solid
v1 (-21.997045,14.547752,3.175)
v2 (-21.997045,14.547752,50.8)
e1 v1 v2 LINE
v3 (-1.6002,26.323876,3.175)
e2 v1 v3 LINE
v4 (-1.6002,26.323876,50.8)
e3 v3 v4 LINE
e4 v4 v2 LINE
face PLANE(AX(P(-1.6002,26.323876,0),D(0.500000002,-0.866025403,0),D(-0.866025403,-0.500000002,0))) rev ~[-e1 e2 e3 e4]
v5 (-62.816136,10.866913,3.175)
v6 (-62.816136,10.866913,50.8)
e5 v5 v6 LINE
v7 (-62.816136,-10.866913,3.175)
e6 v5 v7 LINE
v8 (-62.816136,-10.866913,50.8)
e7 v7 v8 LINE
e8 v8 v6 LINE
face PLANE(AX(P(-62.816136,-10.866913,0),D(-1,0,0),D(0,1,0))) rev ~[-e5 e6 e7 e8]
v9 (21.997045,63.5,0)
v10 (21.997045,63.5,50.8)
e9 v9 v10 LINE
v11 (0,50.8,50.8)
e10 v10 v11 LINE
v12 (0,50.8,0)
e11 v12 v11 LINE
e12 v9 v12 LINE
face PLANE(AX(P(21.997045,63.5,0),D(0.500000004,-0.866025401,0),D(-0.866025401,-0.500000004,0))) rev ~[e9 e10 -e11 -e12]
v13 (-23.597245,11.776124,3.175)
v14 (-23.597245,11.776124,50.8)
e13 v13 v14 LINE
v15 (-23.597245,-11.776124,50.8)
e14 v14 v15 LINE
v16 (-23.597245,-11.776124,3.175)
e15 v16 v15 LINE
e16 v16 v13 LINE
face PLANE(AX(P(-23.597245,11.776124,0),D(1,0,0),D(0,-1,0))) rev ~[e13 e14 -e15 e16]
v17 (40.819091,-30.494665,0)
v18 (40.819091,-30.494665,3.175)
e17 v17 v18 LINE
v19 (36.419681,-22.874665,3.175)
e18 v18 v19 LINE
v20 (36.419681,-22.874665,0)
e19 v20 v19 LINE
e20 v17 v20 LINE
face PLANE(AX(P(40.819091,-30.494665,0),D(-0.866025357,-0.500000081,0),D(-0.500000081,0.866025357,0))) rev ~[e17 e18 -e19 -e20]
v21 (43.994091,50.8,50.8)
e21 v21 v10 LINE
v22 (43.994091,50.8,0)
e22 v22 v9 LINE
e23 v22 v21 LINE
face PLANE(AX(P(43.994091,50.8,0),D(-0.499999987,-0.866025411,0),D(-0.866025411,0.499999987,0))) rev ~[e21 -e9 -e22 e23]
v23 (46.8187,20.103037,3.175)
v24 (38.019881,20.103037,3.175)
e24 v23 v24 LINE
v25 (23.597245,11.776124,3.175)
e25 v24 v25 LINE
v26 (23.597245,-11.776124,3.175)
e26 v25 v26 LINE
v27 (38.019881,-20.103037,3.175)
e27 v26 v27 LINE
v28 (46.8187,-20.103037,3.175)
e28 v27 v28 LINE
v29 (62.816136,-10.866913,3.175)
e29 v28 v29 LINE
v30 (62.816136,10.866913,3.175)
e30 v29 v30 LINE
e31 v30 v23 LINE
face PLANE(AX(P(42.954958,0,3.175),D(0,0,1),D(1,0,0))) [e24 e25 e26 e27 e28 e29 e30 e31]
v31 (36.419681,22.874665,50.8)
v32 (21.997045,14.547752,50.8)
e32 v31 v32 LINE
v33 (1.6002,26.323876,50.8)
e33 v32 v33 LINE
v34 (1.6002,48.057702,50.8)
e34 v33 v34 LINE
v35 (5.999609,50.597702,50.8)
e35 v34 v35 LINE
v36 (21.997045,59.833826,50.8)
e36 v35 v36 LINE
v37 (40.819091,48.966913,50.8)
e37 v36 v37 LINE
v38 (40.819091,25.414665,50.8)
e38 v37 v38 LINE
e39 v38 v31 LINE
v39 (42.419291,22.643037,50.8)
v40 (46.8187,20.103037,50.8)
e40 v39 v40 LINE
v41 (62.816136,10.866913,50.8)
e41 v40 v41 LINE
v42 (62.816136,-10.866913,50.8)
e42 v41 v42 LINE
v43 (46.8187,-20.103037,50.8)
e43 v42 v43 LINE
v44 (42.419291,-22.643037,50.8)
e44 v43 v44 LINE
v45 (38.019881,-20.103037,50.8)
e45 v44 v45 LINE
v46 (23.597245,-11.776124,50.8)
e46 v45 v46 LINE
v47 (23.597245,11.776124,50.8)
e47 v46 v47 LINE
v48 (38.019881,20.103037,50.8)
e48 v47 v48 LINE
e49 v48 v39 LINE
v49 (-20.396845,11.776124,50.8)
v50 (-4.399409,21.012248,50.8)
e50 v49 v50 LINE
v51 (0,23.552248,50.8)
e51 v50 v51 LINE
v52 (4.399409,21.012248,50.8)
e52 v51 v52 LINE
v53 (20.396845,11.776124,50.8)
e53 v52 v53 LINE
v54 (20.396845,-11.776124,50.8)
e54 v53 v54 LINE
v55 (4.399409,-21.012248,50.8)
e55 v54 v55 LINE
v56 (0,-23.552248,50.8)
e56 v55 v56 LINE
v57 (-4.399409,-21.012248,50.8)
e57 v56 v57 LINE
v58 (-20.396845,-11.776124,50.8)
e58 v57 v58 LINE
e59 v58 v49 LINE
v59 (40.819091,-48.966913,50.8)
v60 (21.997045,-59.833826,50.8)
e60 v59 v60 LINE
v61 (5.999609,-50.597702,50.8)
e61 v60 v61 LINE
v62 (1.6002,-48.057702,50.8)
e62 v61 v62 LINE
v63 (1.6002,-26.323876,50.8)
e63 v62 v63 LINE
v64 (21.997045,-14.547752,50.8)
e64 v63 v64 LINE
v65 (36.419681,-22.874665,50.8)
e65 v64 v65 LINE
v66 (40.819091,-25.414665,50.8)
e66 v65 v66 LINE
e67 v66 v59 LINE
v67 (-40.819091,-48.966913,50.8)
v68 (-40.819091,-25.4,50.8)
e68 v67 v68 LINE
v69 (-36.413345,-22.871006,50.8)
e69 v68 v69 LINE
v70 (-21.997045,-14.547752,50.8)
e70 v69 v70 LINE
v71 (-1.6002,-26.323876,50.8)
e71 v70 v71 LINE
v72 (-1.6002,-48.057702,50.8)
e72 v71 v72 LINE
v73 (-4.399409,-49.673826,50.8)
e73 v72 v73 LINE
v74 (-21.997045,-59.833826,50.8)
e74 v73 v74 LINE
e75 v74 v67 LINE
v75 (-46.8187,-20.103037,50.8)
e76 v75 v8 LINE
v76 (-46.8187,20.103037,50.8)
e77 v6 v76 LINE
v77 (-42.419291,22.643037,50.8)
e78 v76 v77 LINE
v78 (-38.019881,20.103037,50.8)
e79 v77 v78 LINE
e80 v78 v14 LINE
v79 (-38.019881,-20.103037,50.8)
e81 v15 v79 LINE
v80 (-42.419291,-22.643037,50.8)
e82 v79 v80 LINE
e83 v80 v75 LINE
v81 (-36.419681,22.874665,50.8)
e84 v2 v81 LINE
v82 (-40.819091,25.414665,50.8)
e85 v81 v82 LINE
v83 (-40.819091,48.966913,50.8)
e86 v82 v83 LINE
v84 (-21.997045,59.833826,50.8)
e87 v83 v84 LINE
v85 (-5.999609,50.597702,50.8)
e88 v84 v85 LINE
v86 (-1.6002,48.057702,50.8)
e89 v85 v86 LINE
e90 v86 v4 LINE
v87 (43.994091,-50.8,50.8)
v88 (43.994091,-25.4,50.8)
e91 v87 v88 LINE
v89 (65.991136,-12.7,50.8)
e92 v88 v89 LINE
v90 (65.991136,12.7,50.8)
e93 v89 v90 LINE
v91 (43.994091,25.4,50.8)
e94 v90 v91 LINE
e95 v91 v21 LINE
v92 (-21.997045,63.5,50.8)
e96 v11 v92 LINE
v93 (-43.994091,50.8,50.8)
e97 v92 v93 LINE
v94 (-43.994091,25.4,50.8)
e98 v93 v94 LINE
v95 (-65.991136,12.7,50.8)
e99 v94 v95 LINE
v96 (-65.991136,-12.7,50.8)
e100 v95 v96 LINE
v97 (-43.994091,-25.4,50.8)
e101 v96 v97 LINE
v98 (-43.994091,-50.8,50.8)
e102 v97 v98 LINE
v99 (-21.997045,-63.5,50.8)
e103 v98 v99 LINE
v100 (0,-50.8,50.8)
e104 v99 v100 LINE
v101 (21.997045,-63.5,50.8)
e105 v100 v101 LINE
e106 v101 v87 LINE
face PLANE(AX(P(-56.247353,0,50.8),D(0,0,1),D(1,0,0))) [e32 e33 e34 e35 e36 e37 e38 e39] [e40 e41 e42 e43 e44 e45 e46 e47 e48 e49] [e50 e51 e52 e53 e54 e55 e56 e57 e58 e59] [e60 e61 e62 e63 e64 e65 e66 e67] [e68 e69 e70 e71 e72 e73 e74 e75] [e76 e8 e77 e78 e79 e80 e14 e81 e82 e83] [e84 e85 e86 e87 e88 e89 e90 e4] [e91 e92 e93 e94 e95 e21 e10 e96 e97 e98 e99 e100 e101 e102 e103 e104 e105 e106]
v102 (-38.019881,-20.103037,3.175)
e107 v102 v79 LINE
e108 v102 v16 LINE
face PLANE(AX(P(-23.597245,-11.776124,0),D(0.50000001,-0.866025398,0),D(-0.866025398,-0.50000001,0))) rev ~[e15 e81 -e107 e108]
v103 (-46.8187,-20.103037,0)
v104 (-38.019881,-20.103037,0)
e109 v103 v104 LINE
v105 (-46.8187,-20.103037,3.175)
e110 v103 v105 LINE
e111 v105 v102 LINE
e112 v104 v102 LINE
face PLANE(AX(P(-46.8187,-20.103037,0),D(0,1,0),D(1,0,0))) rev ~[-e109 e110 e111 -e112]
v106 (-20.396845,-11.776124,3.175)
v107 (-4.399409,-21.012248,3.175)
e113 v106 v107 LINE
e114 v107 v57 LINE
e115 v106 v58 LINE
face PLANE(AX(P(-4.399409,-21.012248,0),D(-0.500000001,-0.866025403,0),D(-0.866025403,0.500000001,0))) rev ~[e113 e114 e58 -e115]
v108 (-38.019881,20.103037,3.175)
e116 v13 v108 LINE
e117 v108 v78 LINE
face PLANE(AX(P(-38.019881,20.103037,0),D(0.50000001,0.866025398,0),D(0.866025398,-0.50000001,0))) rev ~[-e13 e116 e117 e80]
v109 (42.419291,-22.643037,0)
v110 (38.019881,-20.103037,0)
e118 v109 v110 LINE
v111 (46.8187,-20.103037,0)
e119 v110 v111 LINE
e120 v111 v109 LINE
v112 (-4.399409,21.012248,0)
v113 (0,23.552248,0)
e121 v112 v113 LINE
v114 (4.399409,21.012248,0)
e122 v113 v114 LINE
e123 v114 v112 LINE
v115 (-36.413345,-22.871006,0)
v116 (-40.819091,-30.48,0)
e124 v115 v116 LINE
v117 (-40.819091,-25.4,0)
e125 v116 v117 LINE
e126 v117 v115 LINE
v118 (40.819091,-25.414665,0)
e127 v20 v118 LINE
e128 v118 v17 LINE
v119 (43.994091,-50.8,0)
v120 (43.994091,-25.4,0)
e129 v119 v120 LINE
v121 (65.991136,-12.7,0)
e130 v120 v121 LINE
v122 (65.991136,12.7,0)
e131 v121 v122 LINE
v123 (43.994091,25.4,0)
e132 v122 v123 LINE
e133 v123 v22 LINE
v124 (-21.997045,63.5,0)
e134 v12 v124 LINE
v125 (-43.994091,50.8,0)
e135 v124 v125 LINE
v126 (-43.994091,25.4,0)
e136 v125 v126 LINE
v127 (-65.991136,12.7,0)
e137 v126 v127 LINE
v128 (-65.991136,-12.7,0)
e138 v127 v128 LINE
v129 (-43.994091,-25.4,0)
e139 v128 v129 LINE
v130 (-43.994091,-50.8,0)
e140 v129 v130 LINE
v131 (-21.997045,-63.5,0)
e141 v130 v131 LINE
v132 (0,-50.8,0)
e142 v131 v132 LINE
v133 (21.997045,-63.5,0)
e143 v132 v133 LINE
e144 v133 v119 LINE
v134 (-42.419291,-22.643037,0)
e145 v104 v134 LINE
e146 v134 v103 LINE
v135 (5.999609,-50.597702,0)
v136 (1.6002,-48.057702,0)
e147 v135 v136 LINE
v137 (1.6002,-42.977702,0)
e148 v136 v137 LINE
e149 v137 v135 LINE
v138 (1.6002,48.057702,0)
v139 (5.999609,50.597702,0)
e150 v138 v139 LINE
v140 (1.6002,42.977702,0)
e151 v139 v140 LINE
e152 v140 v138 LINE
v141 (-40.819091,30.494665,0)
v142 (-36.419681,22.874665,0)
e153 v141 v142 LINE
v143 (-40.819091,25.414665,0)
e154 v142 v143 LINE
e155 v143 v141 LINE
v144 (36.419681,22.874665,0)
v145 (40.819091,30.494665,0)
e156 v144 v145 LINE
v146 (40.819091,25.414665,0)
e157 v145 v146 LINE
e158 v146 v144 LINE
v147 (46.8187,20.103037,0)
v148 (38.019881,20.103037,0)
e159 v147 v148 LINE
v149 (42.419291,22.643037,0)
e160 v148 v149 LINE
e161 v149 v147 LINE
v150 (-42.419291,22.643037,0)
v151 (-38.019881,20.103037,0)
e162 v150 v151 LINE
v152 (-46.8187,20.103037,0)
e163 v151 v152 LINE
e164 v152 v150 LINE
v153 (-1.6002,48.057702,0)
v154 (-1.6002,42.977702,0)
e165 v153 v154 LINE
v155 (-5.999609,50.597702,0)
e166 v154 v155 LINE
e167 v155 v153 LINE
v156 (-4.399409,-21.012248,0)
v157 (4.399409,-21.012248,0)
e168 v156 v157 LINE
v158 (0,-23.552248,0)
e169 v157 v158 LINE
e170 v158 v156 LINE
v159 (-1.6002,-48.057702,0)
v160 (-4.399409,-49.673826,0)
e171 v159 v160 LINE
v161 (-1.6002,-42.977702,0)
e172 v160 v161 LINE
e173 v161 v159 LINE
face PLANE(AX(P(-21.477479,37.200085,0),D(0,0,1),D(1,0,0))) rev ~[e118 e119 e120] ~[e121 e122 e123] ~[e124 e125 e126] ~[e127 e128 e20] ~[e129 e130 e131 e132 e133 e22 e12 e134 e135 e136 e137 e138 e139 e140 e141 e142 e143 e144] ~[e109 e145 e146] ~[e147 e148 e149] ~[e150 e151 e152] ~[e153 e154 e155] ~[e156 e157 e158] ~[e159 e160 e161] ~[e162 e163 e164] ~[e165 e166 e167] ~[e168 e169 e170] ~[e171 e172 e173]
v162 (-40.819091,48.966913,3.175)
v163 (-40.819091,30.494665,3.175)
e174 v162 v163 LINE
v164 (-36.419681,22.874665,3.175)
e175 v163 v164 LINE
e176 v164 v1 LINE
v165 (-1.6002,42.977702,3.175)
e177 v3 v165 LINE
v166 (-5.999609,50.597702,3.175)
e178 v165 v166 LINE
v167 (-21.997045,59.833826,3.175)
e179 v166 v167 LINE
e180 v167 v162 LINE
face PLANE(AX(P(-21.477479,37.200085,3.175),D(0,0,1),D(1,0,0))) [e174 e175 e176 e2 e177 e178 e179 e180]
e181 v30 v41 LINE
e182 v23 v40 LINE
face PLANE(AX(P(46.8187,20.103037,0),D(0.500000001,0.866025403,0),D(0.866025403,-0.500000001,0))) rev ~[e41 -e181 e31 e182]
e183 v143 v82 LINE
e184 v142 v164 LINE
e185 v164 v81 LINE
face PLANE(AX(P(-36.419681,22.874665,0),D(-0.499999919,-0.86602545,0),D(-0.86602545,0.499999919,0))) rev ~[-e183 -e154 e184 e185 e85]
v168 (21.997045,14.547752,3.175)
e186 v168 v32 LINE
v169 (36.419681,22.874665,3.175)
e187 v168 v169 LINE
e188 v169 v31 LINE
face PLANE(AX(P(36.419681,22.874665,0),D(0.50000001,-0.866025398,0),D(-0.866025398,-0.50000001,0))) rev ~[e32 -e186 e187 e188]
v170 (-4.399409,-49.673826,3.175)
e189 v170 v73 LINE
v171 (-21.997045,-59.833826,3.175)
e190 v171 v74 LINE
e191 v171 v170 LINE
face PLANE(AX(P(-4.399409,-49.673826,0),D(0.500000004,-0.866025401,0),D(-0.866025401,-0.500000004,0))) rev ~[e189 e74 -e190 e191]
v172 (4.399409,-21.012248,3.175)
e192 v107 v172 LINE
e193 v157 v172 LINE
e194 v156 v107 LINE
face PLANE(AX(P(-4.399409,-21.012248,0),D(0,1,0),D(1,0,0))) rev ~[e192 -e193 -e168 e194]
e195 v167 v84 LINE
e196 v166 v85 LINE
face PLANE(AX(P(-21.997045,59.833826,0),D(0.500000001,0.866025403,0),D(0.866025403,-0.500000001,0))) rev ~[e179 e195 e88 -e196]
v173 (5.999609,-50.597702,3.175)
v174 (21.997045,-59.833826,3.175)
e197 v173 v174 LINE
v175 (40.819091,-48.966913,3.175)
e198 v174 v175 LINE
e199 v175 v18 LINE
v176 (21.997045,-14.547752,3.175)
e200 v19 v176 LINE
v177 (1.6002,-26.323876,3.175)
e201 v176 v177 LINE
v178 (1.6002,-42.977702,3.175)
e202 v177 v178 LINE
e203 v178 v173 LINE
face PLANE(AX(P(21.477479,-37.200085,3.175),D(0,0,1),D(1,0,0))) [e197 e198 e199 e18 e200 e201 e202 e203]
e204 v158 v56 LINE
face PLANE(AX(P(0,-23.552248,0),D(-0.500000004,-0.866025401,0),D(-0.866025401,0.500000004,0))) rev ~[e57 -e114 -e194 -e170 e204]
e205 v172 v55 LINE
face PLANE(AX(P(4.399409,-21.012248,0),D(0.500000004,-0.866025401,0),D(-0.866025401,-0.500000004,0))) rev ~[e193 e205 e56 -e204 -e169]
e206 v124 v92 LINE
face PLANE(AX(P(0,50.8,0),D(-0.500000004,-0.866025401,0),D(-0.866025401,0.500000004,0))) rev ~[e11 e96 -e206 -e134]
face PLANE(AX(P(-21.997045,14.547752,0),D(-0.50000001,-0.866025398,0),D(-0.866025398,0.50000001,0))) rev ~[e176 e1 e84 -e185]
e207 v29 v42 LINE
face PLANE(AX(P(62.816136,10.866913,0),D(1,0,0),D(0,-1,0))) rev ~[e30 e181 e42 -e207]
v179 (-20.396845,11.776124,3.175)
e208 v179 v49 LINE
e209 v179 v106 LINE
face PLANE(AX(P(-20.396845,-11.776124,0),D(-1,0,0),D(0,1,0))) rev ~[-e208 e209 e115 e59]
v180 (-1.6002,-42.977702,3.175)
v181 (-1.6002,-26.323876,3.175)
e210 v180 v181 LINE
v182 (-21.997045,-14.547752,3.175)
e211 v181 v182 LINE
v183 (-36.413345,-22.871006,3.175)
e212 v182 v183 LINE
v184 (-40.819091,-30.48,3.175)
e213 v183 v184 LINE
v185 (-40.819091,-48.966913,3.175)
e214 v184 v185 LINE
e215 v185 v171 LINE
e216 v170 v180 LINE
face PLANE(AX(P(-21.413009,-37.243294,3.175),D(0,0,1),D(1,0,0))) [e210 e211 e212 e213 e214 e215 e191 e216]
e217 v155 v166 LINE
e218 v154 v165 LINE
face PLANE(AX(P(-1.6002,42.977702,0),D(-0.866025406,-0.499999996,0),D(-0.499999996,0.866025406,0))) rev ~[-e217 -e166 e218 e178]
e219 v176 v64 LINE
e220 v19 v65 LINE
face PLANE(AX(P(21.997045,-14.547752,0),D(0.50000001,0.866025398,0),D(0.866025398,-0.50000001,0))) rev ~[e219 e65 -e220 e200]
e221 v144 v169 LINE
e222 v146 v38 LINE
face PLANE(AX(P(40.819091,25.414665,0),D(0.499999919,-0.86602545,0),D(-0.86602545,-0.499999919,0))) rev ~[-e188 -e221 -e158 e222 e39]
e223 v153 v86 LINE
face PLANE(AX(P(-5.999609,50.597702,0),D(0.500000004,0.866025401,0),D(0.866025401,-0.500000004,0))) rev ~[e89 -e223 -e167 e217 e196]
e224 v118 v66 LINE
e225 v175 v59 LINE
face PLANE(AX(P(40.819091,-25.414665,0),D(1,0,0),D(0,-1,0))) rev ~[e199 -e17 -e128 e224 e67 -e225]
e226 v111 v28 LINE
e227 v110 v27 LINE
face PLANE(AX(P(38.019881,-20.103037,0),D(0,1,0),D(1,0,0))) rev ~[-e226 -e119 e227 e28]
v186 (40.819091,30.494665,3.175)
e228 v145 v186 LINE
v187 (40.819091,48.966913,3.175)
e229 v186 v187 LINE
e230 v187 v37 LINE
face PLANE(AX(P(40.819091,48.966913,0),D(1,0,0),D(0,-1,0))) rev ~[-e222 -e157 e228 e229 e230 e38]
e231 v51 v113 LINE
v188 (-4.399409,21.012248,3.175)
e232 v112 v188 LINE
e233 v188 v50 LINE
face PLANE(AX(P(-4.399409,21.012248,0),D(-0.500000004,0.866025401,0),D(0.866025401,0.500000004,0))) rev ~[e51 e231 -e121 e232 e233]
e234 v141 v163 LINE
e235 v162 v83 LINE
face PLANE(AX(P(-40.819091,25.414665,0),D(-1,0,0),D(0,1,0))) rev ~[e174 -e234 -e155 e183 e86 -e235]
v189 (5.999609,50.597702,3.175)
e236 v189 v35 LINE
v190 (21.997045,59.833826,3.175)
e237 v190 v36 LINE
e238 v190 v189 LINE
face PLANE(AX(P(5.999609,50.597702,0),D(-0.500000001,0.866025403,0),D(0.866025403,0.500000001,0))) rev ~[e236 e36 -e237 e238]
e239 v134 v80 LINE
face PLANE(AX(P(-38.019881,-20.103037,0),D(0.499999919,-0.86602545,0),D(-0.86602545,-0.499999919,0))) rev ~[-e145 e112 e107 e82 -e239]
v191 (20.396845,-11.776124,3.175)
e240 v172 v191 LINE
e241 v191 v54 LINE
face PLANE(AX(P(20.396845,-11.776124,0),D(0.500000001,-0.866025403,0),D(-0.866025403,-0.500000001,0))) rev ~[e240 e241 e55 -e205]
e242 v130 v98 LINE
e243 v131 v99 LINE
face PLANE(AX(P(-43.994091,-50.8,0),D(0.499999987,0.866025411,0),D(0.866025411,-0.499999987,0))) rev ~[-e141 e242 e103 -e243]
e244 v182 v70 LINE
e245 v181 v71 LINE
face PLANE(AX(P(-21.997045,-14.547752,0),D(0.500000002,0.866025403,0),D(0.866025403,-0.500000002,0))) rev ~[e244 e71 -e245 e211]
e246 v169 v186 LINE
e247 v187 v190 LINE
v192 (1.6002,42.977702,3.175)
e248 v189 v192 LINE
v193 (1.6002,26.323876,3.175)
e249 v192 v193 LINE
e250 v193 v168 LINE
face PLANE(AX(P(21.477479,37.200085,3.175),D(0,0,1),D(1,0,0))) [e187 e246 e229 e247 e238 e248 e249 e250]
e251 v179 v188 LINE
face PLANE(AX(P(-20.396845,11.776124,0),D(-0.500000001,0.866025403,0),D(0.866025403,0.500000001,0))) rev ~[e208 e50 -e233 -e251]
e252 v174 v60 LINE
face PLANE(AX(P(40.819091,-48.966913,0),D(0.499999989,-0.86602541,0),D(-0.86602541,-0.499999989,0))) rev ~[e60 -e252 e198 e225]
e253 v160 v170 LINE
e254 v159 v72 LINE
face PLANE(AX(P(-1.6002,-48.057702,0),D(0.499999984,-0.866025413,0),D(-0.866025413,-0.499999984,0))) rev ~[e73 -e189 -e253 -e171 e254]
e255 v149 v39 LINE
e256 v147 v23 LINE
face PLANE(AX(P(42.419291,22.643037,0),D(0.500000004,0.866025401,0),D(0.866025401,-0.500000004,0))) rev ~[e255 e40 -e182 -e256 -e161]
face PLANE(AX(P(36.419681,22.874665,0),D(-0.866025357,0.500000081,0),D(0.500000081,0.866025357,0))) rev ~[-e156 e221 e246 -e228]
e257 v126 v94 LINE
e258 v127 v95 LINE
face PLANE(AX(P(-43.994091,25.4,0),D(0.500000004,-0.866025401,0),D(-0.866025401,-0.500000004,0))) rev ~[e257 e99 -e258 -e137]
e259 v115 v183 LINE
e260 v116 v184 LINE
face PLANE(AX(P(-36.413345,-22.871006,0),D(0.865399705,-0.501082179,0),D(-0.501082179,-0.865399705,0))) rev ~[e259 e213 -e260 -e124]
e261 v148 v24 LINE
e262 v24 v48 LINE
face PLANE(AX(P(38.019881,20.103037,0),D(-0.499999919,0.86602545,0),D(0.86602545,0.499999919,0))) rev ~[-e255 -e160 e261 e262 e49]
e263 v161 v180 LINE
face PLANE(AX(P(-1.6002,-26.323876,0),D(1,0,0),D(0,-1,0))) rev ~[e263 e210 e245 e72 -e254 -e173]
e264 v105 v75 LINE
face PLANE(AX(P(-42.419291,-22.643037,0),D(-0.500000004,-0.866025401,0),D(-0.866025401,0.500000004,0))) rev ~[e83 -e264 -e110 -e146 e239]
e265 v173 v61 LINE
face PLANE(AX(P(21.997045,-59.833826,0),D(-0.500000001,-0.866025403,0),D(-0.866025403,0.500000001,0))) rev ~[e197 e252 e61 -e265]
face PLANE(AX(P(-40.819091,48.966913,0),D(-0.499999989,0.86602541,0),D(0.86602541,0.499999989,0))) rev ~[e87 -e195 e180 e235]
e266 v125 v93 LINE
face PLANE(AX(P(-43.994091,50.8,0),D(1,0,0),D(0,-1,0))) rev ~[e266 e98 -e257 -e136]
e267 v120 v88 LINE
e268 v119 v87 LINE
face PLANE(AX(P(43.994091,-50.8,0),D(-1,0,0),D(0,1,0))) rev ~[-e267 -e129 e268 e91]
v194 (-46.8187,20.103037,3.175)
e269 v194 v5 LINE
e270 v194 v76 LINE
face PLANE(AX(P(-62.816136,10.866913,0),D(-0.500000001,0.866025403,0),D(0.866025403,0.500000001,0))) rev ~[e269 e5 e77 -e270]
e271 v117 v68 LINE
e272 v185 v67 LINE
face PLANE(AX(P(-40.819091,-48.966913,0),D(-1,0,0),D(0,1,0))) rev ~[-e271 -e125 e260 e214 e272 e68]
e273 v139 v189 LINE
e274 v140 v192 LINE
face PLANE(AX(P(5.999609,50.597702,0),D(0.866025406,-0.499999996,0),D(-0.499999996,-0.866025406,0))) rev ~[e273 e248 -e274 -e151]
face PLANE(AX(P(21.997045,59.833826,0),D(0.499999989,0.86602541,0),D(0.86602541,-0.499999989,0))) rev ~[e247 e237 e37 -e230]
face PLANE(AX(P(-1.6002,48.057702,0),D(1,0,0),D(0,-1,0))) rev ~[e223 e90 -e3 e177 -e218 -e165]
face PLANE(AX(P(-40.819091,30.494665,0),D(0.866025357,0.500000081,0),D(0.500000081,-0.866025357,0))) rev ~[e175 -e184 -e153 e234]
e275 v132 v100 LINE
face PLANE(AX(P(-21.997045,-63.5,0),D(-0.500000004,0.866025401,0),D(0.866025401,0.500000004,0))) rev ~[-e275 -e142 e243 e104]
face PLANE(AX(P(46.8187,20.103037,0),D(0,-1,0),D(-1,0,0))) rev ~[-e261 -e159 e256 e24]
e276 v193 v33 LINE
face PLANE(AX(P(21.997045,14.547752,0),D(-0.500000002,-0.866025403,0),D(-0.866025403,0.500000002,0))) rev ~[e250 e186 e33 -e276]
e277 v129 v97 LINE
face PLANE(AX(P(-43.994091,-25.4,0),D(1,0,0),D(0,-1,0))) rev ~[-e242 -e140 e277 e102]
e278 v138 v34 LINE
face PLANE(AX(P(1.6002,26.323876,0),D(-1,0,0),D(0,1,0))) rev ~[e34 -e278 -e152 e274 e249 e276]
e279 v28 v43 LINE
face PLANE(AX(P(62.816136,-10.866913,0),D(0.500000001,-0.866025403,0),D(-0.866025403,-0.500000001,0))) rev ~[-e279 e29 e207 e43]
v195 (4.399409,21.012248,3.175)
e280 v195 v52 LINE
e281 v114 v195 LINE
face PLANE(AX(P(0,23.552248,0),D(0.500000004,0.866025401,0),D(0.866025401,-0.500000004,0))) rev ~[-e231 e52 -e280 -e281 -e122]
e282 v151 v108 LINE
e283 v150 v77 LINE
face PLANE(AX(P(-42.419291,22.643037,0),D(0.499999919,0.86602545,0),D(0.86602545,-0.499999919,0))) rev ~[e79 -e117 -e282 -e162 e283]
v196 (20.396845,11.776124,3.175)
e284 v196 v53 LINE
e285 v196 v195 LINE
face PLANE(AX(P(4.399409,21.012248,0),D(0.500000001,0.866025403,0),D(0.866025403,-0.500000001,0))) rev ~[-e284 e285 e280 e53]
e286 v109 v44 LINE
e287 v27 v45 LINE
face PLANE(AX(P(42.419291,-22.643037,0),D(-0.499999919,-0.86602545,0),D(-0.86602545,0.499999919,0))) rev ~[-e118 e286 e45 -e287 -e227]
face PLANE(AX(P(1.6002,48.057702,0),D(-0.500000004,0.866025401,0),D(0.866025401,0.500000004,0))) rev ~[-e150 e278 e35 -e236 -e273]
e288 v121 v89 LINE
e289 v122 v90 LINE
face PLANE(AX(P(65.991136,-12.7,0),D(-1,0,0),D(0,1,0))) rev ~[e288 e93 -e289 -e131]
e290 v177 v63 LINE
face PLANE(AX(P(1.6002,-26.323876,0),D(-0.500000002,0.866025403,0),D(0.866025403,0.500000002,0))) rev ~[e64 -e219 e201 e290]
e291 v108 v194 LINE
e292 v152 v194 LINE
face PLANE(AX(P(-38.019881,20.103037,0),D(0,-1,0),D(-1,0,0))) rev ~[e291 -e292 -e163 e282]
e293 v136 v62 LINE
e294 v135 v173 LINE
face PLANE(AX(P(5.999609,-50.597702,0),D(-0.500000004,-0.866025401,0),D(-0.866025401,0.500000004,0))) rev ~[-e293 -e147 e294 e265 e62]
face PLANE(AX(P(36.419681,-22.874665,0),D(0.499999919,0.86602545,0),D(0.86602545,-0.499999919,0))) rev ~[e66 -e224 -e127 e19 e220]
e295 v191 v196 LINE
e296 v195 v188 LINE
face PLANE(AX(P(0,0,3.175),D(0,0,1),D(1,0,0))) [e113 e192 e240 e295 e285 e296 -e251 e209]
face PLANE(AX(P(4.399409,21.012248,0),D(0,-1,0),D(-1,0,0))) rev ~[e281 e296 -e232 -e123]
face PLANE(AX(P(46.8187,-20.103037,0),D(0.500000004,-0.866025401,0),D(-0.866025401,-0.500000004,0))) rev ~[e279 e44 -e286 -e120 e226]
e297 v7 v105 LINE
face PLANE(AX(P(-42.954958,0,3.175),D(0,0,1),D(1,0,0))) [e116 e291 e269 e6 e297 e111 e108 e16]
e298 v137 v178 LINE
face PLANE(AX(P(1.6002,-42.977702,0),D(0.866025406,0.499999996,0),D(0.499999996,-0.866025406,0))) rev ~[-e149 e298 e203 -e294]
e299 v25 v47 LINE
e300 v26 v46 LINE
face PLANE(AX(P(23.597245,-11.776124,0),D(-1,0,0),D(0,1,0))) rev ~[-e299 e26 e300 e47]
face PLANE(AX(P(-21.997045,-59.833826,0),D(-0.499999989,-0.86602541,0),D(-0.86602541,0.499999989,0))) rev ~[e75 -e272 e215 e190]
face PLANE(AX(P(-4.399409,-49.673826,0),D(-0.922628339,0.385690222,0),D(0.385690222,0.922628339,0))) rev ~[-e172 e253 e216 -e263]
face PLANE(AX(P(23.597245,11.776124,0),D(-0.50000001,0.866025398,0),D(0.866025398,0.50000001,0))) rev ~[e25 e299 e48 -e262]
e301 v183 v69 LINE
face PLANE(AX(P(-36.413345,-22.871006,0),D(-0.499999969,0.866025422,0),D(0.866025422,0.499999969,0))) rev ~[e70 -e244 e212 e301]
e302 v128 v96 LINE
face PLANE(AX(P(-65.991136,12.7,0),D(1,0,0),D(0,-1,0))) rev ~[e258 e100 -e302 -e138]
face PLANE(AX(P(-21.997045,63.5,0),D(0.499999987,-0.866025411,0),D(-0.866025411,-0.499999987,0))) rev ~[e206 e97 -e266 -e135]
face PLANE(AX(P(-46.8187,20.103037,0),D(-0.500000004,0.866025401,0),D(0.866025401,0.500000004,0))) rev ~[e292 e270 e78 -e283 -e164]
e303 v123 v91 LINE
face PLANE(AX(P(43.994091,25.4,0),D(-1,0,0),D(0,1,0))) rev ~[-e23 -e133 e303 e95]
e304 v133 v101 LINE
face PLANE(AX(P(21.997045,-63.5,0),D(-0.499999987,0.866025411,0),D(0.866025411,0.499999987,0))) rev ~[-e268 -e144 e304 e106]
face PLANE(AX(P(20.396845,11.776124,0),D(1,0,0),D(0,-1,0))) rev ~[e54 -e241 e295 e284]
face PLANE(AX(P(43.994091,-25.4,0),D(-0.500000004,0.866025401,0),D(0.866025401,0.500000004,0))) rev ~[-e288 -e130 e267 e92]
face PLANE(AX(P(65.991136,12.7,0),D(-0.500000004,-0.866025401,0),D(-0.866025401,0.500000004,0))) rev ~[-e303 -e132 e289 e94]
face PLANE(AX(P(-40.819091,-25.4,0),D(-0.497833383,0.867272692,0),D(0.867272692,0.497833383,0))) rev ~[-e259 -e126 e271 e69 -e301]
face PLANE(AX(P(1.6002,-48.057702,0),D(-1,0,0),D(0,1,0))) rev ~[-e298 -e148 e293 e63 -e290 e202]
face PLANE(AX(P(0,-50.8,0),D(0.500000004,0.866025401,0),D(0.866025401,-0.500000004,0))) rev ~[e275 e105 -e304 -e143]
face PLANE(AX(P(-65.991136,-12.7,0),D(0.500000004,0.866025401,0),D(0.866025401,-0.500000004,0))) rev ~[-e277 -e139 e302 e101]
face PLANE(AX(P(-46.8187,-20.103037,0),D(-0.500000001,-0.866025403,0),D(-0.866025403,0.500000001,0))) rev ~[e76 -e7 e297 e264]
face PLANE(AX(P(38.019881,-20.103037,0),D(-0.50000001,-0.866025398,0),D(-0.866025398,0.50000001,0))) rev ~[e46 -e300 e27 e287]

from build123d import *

# Parameters (mm, degrees)
F1_DEPTH = 50.8
F2_DEPTH = 3.175


with BuildPart() as f1:
    # F0 (on Top) → F1 (new body)
    with BuildSketch(Plane.XY):
        Polygon((-42.419291, 22.643037), (-40.819091, 23.566913), (-43.994091, 25.4), (-65.991136, 12.7), (-65.991136, -12.7), (-43.994091, -25.4), (-40.819091, -23.566913), (-42.419291, -22.643037), (-46.8187, -20.103037), (-62.816136, -10.866913), (-62.816136, 10.866913), (-46.8187, 20.103037), align=None)
        Polygon((-1.6002, 48.057702), (0, 47.133826), (0, 50.8), (-21.997045, 63.5), (-43.994091, 50.8), (-43.994091, 25.4), (-40.819091, 23.566913), (-40.819091, 25.414665), (-40.819091, 30.494665), (-40.819091, 48.966913), (-21.997045, 59.833826), (-5.999609, 50.597702), align=None)
        Polygon((0, 50.8), (0, 47.133826), (1.6002, 48.057702), (5.999609, 50.597702), (21.997045, 59.833826), (40.819091, 48.966913), (40.819091, 30.494665), (40.819091, 28.646913), (40.819091, 25.414665), (40.819091, 23.566913), (43.994091, 25.4), (43.994091, 50.8), (21.997045, 63.5), align=None)
        Polygon((42.419291, -22.643037), (40.819091, -23.566913), (43.994091, -25.4), (65.991136, -12.7), (65.991136, 12.7), (43.994091, 25.4), (40.819091, 23.566913), (42.419291, 22.643037), (46.8187, 20.103037), (62.816136, 10.866913), (62.816136, -10.866913), (46.8187, -20.103037), align=None)
        Polygon((43.994091, -25.4), (40.819091, -23.566913), (40.819091, -25.414665), (40.819091, -30.494665), (40.819091, -48.966913), (21.997045, -59.833826), (5.999609, -50.597702), (1.6002, -48.057702), (0, -47.133826), (0, -50.8), (21.997045, -63.5), (43.994091, -50.8), align=None)
        Polygon((-40.819091, -25.4), (-40.819091, -23.566913), (-43.994091, -25.4), (-43.994091, -50.8), (-21.997045, -63.5), (0, -50.8), (0, -47.133826), (-1.6002, -48.057702), (-4.399409, -49.673826), (-21.997045, -59.833826), (-40.819091, -48.966913), (-40.819091, -30.48), (-40.819091, -25.414665), align=None)
        Polygon((-21.997045, -12.7), (-21.997045, 12.7), (-40.819091, 23.566913), (-42.419291, 22.643037), (-38.019881, 20.103037), (-23.597245, 11.776124), (-23.597245, -11.776124), (-38.019881, -20.103037), (-42.419291, -22.643037), (-40.819091, -23.566913), align=None)
        Polygon((-21.997045, 12.7), (0, 25.4), (0, 47.133826), (-1.6002, 48.057702), (-1.6002, 42.977702), (-1.6002, 26.323876), (-21.997045, 14.547752), (-36.419681, 22.874665), (-40.819091, 25.414665), (-40.819091, 23.566913), align=None)
        Polygon((21.997045, 12.7), (0, 25.4), (0, 23.552248), (4.399409, 21.012248), (20.396845, 11.776124), (20.396845, -11.776124), (21.997045, -12.7), align=None)
        Polygon((0, -25.4), (-21.997045, -12.7), (-40.819091, -23.566913), (-40.819091, -25.4), (-36.413345, -22.871006), (-21.997045, -14.547752), (-1.6002, -26.323876), (-1.6002, -42.977702), (-1.6002, -48.057702), (0, -47.133826), align=None)
        Polygon((21.997045, -14.547752), (21.997045, -12.7), (0, -25.4), (1.6002, -26.323876), align=None)
        Polygon((0, 47.133826), (0, 25.4), (21.997045, 12.7), (36.419681, 21.026913), (40.819091, 23.566913), (40.819091, 25.414665), (36.419681, 22.874665), (21.997045, 14.547752), (1.6002, 26.323876), (1.6002, 42.977702), (1.6002, 48.057702), align=None)
        Polygon((36.419681, 21.026913), (21.997045, 12.7), (21.997045, -12.7), (40.819091, -23.566913), (42.419291, -22.643037), (38.019881, -20.103037), (23.597245, -11.776124), (23.597245, 11.776124), (38.019881, 20.103037), (42.419291, 22.643037), (40.819091, 23.566913), align=None)
        Polygon((0, 23.552248), (0, 25.4), (-21.997045, 12.7), (-20.396845, 11.776124), (-4.399409, 21.012248), align=None)
        Polygon((40.819091, -23.566913), (21.997045, -12.7), (21.997045, -14.547752), (36.419681, -22.874665), (40.819091, -25.414665), align=None)
        Polygon((1.6002, -26.323876), (0, -25.4), (0, -47.133826), (1.6002, -48.057702), (1.6002, -42.977702), align=None)
        Polygon((-20.396845, 11.776124), (-21.997045, 12.7), (-21.997045, -12.7), (0, -25.4), (0, -23.552248), (-4.399409, -21.012248), (-20.396845, -11.776124), align=None)
        Polygon((0, -25.4), (21.997045, -12.7), (20.396845, -11.776124), (4.399409, -21.012248), (0, -23.552248), align=None)
    extrude(amount=F1_DEPTH)

    # F0 (on Top) → F2 (join)
    with BuildSketch(Plane.XY):
        Polygon((-1.6002, 42.977702), (-5.999609, 50.597702), (-21.997045, 59.833826), (-40.819091, 48.966913), (-40.819091, 30.494665), (-36.419681, 22.874665), (-21.997045, 14.547752), (-1.6002, 26.323876), align=None)
        Polygon((-38.019881, 20.103037), (-46.8187, 20.103037), (-62.816136, 10.866913), (-62.816136, -10.866913), (-46.8187, -20.103037), (-38.019881, -20.103037), (-23.597245, -11.776124), (-23.597245, 11.776124), align=None)
        Polygon((-4.399409, 21.012248), (-20.396845, 11.776124), (-20.396845, -11.776124), (-4.399409, -21.012248), (4.399409, -21.012248), (20.396845, -11.776124), (20.396845, 11.776124), (4.399409, 21.012248), align=None)
        Polygon((21.997045, 59.833826), (5.999609, 50.597702), (1.6002, 42.977702), (1.6002, 26.323876), (21.997045, 14.547752), (36.419681, 22.874665), (40.819091, 30.494665), (40.819091, 48.966913), align=None)
        Polygon((38.019881, -20.103037), (46.8187, -20.103037), (62.816136, -10.866913), (62.816136, 10.866913), (46.8187, 20.103037), (38.019881, 20.103037), (23.597245, 11.776124), (23.597245, -11.776124), align=None)
        Polygon((36.419681, -22.874665), (21.997045, -14.547752), (1.6002, -26.323876), (1.6002, -42.977702), (5.999609, -50.597702), (21.997045, -59.833826), (40.819091, -48.966913), (40.819091, -30.494665), align=None)
        Polygon((-21.997045, -14.547752), (-36.413345, -22.871006), (-40.819091, -30.48), (-40.819091, -48.966913), (-21.997045, -59.833826), (-4.399409, -49.673826), (-1.6002, -42.977702), (-1.6002, -26.323876), align=None)
        Polygon((0, 23.552248), (0, 25.4), (-21.997045, 12.7), (-20.396845, 11.776124), (-4.399409, 21.012248), align=None)
    extrude(amount=F2_DEPTH)


solid = f1.part
